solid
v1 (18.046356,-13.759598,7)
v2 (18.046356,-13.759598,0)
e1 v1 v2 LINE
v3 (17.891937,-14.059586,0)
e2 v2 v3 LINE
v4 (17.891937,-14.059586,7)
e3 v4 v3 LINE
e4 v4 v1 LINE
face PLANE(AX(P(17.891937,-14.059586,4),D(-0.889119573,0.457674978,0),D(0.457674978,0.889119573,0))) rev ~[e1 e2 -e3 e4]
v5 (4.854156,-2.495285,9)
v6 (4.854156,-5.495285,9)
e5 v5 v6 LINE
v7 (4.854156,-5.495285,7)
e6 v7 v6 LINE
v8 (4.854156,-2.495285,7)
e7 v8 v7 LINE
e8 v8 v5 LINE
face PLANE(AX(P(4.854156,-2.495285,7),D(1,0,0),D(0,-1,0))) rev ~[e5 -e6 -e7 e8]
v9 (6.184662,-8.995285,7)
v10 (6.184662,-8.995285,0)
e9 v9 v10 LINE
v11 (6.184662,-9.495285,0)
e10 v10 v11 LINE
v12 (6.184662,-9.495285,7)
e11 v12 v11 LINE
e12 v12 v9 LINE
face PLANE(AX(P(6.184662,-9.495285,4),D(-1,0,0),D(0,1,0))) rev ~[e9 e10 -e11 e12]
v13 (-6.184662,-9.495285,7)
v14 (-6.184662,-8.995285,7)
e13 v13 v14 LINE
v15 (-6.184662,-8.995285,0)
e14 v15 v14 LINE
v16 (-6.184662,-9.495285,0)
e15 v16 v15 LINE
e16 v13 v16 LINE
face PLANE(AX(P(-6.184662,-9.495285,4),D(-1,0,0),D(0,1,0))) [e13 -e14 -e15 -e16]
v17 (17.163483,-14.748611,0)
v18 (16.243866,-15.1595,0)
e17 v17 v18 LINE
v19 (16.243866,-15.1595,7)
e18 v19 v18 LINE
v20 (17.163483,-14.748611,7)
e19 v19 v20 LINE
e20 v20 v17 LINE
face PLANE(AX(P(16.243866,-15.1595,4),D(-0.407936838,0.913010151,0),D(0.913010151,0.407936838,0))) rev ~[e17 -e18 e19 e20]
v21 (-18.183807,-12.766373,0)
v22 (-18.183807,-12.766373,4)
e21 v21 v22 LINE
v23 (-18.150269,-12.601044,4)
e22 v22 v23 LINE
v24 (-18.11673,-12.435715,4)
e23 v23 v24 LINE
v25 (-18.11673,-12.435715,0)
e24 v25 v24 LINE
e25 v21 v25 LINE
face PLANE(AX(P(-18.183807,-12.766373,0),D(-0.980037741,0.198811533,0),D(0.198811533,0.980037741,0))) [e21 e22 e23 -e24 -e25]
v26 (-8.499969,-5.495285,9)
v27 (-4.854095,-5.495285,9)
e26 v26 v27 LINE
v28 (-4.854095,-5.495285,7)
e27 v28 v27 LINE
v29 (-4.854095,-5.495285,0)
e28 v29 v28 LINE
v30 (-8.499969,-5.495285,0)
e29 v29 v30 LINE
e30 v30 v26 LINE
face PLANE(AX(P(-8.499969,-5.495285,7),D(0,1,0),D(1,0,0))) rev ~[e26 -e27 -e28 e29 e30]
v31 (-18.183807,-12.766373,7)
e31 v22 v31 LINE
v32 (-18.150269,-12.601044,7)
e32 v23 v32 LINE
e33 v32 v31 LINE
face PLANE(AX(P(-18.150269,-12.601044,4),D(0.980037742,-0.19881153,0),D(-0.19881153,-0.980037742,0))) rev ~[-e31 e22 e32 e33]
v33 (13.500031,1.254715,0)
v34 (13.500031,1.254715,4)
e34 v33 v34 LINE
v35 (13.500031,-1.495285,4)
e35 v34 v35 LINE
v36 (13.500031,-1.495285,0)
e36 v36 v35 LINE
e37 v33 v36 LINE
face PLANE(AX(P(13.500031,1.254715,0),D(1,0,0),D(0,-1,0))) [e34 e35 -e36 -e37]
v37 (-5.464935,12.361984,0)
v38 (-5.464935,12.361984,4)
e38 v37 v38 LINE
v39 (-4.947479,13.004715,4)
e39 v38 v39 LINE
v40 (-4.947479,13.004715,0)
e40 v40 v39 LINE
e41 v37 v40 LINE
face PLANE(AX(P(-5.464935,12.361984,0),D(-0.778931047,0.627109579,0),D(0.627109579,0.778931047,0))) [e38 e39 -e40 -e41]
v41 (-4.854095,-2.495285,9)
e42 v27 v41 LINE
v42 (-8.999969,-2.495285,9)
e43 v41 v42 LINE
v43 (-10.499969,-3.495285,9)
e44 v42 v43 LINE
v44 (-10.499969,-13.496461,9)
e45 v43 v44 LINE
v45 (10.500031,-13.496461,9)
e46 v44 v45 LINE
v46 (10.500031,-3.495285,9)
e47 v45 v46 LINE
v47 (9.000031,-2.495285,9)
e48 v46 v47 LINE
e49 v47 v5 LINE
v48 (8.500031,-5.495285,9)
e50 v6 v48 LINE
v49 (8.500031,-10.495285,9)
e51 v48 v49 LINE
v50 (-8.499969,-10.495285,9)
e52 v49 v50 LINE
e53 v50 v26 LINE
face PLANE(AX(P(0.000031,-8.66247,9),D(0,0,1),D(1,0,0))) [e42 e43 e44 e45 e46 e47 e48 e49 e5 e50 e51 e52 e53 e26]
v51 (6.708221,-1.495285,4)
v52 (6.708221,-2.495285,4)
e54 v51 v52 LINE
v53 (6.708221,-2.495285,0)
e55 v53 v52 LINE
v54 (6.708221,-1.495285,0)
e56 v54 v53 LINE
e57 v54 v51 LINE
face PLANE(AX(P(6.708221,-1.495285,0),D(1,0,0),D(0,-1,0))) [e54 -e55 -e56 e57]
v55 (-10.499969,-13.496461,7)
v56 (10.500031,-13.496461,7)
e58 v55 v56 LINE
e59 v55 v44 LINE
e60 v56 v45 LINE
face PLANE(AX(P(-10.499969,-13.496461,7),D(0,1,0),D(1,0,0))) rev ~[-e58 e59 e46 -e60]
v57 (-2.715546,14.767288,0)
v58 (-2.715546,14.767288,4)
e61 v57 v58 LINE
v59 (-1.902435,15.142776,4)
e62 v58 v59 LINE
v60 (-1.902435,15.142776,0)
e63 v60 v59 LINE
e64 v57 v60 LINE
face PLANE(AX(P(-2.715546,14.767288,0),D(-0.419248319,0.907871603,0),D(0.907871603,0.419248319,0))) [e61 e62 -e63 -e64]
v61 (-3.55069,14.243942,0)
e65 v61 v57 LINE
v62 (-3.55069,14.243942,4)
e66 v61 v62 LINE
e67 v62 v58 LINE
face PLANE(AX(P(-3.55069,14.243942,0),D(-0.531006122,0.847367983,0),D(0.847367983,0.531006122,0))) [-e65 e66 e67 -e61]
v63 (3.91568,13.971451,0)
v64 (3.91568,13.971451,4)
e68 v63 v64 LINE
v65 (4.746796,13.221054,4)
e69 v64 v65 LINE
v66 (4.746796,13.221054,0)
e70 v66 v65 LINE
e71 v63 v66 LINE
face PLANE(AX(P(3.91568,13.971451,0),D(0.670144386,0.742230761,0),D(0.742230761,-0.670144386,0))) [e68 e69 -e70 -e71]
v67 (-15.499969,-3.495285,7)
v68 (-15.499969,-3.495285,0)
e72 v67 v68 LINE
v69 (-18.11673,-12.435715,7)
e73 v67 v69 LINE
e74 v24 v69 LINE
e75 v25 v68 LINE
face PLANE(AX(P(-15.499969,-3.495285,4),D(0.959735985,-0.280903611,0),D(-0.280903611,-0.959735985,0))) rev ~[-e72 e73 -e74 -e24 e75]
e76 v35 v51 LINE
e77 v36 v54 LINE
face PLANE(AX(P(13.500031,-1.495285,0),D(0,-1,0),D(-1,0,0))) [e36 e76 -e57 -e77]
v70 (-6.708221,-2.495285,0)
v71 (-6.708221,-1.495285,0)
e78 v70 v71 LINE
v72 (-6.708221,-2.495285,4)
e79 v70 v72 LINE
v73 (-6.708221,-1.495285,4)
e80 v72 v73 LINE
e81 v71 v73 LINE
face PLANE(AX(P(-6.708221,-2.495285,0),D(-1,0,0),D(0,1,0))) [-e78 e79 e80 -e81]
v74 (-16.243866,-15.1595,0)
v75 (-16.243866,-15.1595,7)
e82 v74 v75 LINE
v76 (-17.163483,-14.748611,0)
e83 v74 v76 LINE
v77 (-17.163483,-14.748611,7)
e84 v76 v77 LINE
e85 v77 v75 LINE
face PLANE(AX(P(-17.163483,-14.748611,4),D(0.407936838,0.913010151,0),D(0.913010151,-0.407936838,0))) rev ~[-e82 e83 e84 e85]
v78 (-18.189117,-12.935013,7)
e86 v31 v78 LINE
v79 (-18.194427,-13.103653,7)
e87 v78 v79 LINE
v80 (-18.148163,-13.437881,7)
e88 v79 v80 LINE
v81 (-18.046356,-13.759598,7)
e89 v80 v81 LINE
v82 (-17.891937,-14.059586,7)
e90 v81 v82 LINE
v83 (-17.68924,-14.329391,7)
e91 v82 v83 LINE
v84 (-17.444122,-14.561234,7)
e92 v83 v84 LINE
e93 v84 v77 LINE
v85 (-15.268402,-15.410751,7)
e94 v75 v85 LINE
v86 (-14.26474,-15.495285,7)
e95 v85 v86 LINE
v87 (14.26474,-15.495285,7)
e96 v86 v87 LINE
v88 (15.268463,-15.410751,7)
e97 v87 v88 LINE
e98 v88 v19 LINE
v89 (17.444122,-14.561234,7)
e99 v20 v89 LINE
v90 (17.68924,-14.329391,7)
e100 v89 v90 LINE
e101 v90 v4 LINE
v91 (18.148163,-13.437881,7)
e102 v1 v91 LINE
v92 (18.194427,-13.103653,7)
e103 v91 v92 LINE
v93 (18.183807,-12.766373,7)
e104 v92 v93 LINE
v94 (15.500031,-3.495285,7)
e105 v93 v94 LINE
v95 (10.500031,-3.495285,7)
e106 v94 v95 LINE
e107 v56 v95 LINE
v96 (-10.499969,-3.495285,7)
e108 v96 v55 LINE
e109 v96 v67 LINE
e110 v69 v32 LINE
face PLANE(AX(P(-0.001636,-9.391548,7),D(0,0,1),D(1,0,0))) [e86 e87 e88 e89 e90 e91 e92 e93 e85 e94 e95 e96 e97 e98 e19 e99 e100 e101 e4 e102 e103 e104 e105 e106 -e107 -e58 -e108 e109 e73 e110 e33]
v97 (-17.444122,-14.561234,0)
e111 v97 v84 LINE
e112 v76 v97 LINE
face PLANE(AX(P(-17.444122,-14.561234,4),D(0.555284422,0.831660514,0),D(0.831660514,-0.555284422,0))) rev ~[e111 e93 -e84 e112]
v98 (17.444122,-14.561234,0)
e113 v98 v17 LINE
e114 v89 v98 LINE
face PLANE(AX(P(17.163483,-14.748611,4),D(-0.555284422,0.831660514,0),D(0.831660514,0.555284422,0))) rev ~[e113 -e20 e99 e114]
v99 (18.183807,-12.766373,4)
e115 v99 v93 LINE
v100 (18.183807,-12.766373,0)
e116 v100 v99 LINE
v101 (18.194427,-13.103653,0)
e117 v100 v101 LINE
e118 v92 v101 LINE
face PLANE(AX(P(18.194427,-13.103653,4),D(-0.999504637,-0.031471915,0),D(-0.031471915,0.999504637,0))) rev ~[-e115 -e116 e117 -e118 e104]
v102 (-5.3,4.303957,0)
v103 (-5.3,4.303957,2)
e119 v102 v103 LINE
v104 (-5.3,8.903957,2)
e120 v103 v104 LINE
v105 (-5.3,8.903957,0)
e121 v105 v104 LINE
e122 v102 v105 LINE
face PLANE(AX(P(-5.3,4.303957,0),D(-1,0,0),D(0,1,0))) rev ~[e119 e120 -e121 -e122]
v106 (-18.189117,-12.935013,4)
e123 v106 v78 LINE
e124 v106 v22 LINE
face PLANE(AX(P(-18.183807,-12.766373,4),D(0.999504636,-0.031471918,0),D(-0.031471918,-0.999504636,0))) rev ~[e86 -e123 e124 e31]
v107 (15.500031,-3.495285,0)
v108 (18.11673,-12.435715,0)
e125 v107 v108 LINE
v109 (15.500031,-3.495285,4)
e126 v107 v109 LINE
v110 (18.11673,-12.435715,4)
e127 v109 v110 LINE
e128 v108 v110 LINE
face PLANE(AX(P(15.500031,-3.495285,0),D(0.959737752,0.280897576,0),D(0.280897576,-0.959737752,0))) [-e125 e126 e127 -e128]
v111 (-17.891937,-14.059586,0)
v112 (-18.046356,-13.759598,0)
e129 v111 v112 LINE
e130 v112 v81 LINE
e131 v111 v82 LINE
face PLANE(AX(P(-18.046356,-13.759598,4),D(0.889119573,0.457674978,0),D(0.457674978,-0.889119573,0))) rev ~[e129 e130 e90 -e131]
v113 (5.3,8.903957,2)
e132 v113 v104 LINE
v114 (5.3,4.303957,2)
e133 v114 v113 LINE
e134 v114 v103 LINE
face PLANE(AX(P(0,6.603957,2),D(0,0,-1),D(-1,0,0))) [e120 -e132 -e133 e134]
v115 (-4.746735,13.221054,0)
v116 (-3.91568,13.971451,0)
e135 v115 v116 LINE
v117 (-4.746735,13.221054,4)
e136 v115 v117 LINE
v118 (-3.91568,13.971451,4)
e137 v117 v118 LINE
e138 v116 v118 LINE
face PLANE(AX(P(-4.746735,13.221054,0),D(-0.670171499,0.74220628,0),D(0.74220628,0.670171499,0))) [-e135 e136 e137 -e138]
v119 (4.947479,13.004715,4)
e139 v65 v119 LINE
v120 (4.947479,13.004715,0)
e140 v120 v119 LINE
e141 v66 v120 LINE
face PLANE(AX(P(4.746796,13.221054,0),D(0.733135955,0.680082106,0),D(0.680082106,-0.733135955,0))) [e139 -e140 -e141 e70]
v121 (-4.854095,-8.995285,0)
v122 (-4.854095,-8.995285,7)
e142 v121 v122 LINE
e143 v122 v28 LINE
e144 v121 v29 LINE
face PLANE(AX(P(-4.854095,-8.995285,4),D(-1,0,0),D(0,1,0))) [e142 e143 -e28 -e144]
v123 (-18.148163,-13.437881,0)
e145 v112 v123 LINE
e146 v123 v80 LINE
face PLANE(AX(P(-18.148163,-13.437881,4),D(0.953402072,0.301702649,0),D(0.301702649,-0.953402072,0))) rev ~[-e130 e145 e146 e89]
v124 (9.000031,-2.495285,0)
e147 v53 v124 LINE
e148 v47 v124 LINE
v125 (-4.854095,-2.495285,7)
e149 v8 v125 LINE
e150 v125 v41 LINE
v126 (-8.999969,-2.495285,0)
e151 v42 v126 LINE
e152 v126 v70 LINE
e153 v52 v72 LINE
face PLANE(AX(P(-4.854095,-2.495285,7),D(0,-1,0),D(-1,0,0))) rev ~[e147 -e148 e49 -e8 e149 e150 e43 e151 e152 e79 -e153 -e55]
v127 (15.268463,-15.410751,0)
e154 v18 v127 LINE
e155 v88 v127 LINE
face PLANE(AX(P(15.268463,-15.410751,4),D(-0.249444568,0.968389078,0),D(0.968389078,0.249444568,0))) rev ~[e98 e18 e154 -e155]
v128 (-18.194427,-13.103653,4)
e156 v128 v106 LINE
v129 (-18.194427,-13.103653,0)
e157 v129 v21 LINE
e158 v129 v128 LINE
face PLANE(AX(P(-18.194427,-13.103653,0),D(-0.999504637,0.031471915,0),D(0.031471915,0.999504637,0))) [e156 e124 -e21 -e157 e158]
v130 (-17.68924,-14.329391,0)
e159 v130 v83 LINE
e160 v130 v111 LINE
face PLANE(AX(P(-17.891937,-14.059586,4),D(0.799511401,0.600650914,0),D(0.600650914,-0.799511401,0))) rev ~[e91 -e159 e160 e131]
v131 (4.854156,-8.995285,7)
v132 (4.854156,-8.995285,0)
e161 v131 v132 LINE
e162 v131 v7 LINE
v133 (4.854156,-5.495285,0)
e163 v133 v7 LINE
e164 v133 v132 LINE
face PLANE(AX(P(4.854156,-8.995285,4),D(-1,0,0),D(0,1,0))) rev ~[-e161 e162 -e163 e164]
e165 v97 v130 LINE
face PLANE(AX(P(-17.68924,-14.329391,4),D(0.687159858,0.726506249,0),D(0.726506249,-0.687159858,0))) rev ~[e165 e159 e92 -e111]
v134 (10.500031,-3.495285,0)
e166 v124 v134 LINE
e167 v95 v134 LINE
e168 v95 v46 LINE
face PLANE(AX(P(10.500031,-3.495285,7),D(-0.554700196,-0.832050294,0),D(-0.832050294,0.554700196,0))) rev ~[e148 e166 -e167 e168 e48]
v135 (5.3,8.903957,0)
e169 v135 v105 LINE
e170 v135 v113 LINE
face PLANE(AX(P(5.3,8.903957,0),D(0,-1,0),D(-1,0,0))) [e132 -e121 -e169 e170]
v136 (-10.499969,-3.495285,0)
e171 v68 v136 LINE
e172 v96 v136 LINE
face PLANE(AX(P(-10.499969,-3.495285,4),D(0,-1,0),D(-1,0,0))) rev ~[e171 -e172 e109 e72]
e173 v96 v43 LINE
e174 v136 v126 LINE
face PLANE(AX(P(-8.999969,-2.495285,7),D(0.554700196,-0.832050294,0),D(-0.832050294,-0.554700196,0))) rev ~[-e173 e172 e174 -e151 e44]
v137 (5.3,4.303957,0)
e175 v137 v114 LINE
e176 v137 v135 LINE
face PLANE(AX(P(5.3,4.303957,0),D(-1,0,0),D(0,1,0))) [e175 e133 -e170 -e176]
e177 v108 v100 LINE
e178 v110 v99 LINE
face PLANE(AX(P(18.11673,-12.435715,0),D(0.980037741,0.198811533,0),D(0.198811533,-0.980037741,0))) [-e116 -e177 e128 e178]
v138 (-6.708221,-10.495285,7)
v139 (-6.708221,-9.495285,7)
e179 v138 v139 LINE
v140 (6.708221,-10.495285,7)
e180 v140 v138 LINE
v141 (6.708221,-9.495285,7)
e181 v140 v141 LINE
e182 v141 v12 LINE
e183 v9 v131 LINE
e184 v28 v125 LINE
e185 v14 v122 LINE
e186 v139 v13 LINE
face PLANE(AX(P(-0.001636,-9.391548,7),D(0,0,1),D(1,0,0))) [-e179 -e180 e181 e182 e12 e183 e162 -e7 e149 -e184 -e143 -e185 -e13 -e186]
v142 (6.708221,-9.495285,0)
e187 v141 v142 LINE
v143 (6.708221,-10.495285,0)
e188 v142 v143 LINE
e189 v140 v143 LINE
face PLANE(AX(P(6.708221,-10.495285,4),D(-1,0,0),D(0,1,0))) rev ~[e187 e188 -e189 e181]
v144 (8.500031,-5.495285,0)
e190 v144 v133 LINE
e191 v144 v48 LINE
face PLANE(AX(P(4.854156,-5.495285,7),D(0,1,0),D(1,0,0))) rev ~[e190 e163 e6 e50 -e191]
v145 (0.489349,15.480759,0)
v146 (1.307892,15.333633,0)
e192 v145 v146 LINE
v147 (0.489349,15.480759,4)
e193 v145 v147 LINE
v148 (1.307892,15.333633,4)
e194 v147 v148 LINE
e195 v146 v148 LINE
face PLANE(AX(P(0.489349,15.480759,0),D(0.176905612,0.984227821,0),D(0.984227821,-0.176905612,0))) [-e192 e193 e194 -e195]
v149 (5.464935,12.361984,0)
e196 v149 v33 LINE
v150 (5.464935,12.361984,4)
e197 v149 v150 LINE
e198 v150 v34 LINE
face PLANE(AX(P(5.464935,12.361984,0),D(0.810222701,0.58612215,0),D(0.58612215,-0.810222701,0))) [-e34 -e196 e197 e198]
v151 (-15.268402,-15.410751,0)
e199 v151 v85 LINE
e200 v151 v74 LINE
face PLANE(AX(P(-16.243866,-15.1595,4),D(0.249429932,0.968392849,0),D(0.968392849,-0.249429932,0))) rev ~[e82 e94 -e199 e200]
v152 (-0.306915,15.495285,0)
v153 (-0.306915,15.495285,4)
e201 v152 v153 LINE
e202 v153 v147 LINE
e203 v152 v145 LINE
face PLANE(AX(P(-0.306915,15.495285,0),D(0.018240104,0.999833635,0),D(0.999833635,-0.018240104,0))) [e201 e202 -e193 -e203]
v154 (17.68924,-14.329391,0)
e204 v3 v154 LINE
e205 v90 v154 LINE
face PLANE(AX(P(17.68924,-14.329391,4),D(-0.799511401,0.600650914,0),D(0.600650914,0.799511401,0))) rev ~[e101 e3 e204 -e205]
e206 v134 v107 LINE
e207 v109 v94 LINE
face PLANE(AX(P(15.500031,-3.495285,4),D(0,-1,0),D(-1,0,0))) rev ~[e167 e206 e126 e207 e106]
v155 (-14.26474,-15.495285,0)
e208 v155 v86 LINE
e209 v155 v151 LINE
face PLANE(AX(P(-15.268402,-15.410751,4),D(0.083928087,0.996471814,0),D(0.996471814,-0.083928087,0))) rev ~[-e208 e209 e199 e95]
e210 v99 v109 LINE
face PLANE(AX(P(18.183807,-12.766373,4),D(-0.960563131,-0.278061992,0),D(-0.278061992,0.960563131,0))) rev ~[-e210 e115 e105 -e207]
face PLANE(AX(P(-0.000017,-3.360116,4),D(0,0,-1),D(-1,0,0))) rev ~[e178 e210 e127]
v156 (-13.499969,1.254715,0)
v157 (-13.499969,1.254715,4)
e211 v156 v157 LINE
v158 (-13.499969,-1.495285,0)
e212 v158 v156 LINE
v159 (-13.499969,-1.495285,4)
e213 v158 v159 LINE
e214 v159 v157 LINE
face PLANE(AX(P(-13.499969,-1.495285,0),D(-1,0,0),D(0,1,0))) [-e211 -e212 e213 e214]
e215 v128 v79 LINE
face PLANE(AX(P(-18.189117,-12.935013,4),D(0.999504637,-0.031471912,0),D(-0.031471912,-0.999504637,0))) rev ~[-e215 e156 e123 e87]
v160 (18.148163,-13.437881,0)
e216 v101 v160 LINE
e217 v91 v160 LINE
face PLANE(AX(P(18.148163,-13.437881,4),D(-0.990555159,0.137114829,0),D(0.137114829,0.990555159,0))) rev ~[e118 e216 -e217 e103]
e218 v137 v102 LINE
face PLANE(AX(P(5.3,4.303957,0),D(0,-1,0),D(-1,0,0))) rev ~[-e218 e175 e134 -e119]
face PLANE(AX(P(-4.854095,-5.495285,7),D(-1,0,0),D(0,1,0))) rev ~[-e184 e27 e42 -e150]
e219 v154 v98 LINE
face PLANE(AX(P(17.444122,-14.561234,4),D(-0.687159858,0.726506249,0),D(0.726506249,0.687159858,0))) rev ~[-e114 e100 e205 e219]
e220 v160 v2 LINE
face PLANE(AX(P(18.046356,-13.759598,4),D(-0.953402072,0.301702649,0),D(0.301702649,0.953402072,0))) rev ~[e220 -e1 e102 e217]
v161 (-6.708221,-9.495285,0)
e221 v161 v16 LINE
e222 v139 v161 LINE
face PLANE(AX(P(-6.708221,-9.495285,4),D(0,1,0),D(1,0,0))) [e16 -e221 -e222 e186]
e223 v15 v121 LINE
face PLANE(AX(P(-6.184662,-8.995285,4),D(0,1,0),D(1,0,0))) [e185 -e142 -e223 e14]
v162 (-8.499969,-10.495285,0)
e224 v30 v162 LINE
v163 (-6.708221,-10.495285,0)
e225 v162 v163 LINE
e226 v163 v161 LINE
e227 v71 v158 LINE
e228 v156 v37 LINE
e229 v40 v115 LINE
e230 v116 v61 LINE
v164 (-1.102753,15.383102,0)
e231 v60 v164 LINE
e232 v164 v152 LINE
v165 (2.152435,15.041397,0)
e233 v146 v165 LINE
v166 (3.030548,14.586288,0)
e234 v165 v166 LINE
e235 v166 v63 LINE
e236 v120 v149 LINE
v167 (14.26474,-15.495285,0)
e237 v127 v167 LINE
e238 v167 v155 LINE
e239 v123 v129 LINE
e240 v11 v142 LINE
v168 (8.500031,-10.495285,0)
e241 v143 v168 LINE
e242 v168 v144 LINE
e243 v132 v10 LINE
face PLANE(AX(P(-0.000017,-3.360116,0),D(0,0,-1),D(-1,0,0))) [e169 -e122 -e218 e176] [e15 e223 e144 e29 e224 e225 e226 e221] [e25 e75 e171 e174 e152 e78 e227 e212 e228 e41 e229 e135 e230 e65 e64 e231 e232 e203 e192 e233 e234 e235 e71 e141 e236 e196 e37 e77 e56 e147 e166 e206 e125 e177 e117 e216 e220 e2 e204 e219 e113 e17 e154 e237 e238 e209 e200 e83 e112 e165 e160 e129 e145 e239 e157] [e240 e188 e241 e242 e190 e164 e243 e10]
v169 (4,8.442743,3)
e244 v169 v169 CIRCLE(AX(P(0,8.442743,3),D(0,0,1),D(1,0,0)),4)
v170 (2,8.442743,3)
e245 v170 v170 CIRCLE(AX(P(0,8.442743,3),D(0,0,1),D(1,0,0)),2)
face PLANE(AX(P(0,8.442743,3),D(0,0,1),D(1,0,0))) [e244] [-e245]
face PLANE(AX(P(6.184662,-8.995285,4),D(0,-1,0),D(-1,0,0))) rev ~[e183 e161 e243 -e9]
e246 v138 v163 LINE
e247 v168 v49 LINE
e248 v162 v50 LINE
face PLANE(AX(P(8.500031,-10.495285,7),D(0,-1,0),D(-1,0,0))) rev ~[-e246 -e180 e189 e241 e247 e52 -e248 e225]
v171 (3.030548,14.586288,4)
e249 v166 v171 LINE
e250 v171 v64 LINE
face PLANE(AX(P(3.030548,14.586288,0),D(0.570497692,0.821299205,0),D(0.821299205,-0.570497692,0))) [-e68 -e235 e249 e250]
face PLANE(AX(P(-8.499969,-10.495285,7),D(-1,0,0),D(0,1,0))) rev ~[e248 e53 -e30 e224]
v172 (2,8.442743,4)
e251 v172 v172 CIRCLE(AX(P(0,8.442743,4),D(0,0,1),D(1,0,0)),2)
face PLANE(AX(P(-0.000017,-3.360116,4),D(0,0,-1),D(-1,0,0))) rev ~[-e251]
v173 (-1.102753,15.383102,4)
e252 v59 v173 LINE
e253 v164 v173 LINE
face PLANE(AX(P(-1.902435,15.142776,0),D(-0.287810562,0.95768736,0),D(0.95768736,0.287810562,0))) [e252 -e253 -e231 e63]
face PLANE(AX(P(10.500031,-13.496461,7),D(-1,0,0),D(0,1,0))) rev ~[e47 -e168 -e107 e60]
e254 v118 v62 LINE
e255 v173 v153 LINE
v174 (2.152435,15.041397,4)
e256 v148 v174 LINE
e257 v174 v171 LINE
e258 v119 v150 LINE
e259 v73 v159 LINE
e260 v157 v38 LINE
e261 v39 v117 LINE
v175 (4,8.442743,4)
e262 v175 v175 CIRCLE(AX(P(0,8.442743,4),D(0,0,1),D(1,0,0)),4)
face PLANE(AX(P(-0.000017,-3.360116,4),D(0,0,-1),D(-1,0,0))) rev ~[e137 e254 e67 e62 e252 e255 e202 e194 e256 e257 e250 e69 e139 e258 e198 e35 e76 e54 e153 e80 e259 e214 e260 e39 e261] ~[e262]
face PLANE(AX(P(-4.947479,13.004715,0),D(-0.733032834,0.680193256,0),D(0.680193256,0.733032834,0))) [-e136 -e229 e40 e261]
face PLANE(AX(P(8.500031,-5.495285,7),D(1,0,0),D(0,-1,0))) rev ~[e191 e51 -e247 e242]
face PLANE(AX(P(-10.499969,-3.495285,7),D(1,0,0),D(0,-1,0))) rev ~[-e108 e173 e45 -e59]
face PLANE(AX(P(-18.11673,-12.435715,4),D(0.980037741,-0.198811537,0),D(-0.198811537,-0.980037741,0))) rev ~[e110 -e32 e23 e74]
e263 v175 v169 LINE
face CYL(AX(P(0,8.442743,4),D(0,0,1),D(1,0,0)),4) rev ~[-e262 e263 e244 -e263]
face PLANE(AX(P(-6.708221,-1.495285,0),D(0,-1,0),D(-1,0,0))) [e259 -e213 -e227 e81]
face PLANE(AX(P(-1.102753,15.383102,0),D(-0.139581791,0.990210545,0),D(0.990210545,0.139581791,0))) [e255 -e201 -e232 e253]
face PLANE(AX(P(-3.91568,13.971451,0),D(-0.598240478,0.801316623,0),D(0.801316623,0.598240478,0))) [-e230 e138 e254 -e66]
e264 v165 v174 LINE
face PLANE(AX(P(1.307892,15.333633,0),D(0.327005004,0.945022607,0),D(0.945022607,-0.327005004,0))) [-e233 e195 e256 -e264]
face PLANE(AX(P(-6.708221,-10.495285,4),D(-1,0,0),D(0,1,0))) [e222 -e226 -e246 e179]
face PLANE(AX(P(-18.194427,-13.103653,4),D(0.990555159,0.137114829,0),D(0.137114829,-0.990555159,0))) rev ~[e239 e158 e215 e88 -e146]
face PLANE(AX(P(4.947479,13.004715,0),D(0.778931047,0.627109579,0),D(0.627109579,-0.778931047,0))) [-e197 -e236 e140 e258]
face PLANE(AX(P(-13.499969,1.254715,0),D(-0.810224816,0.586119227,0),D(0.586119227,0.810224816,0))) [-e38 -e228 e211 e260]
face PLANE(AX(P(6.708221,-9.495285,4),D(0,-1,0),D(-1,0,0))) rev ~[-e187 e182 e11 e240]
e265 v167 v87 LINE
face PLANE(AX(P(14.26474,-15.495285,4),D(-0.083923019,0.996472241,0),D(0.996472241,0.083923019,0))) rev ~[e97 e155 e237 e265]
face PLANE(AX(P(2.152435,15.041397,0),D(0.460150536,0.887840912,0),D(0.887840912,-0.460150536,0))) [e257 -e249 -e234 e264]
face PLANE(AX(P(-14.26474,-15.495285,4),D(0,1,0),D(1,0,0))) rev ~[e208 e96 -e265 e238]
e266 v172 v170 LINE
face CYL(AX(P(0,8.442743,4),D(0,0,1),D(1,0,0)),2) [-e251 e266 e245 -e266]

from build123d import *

# Parameters (mm, degrees)
BOSS_EXTRUDE1_DEPTH = 4
SKETCH4_R           = 4
SKETCH4_R_2         = 2
CUT_EXTRUDE1_DEPTH  = 1
BOSS_EXTRUDE2_DEPTH = 3
BOSS_EXTRUDE3_DEPTH = 2
SKETCH9_W           = 10.6
SKETCH9_H           = 4.6
CUT_EXTRUDE2_DEPTH  = 2


with BuildPart() as part:
    # Sketch1 → Boss-Extrude1 (new body)
    with BuildSketch(Plane.XY):
        Polygon((5.464935303, 12.361984253), (13.500030518, 1.254714966), (13.500030518, -1.495285034), (6.708221436, -1.495285034), (6.708221436, -2.495285034), (9.000030518, -2.495285034), (10.500030518, -3.495285034), (15.500030518, -3.495285034), (18.116729736, -12.435714722), (18.183807373, -12.766372681), (18.19442749, -13.103652954), (18.148162842, -13.43788147), (18.046356201, -13.759597778), (17.891937256, -14.059585571), (17.689239502, -14.329391479), (17.444122314, -14.561233521), (17.163482666, -14.74861145), (16.243865967, -15.159500122), (15.268463135, -15.410751343), (14.26473999, -15.495285034), (-14.26473999, -15.495285034), (-15.2684021, -15.410751343), (-16.243865967, -15.159500122), (-17.163482666, -14.74861145), (-17.444122314, -14.561233521), (-17.689239502, -14.329391479), (-17.891937256, -14.059585571), (-18.046356201, -13.759597778), (-18.148162842, -13.43788147), (-18.19442749, -13.103652954), (-18.183807373, -12.766372681), (-18.116729736, -12.435714722), (-15.499969482, -3.495285034), (-10.499969482, -3.495285034), (-8.999969482, -2.495285034), (-6.708221436, -2.495285034), (-6.708221436, -1.495285034), (-13.499969482, -1.495285034), (-13.499969482, 1.254714966), (-5.464935303, 12.361984253), (-4.947479248, 13.004714966), (-4.746734619, 13.221054077), (-3.915679932, 13.971450806), (-3.550689697, 14.243942261), (-2.715545654, 14.767288208), (-1.902435303, 15.142776489), (-1.102752686, 15.383102417), (-0.306915283, 15.495285034), (0.489349365, 15.480758667), (1.307891846, 15.333633423), (2.152435303, 15.041397095), (3.030548096, 14.586288452), (3.915679932, 13.971450806), (4.746795654, 13.221054077), (4.947479248, 13.004714966), align=None)
        Polygon((6.708221436, -10.495285034), (8.500030518, -10.495285034), (8.500030518, -5.495285034), (4.854156494, -5.495285034), (4.854156494, -8.995285034), (6.184661865, -8.995285034), (6.184661865, -9.495285034), (6.708221436, -9.495285034), align=None, mode=Mode.SUBTRACT)
        Polygon((-4.854095459, -5.495285034), (-8.499969482, -5.495285034), (-8.499969482, -10.495285034), (-6.708221436, -10.495285034), (-6.708221436, -9.495285034), (-6.184661865, -9.495285034), (-6.184661865, -8.995285034), (-4.854095459, -8.995285034), align=None, mode=Mode.SUBTRACT)
    extrude(amount=BOSS_EXTRUDE1_DEPTH)

    # Sketch4 → Cut-Extrude1 (cut)
    with BuildSketch(Plane.XY.offset(4)):
        with Locations((0, 8.442743212)):
            Circle(SKETCH4_R)
        with Locations((0, 8.442743212)):
            Circle(SKETCH4_R_2, mode=Mode.SUBTRACT)
    extrude(amount=-CUT_EXTRUDE1_DEPTH, mode=Mode.SUBTRACT)

    # Sketch7 → Boss-Extrude2 (add)
    with BuildSketch(Plane.XY.offset(4)):
        Polygon((-15.499969482, -3.495285034), (-18.116729736, -12.435714722), (-18.150268555, -12.601043701), (-18.183807373, -12.766372681), (-18.189117432, -12.935012817), (-18.19442749, -13.103652954), (-18.171295166, -13.270767212), (-18.148162842, -13.43788147), (-18.046356201, -13.759597778), (-17.891937256, -14.059585571), (-17.689239502, -14.329391479), (-17.444122314, -14.561233521), (-17.163482666, -14.74861145), (-16.243865967, -15.159500122), (-15.2684021, -15.410751343), (-14.26473999, -15.495285034), (14.26473999, -15.495285034), (15.268463135, -15.410751343), (16.243865967, -15.159500122), (17.163482666, -14.74861145), (17.444122314, -14.561233521), (17.689239502, -14.329391479), (17.891937256, -14.059585571), (18.046356201, -13.759597778), (18.148162842, -13.43788147), (18.19442749, -13.103652954), (18.183807373, -12.766372681), (15.500030518, -3.495285034), (10.500030518, -3.495285034), (9.000030518, -2.495285034), (6.708221436, -2.495285034), (-6.708221436, -2.495285034), (-8.999969482, -2.495285034), (-10.499969482, -3.495285034), align=None)
        Polygon((-8.499969482, -5.495285034), (-8.499969482, -10.495285034), (-6.708221436, -10.495285034), (-6.708221436, -9.495285034), (-6.184661865, -9.495285034), (-6.184661865, -8.995285034), (-4.854095459, -8.995285034), (-4.854095459, -5.495285034), align=None, mode=Mode.SUBTRACT)
        Polygon((4.854156494, -5.495285034), (8.500030518, -5.495285034), (8.500030518, -10.495285034), (6.708221436, -10.495285034), (6.708221436, -9.495285034), (6.184661865, -9.495285034), (6.184661865, -8.995285034), (4.854156494, -8.995285034), align=None, mode=Mode.SUBTRACT)
    extrude(amount=BOSS_EXTRUDE2_DEPTH)

    # Sketch8 → Boss-Extrude3 (add)
    with BuildSketch(Plane.XY.offset(7)):
        Polygon((-6.708221436, -2.495285034), (-8.999969482, -2.495285034), (-10.499969482, -3.495285034), (-10.499969482, -13.496460595), (10.500030518, -13.496460595), (10.500030518, -3.495285034), (9.000030518, -2.495285034), (6.708221436, -2.495285034), (4.854156494, -2.495285034), (4.854156494, -5.495285034), (8.500030518, -5.495285034), (8.500030518, -10.495285034), (6.708221436, -10.495285034), (-6.708221436, -10.495285034), (-8.499969482, -10.495285034), (-8.499969482, -5.495285034), (-4.854095459, -5.495285034), (-4.854095459, -2.495285034), align=None)
    extrude(amount=BOSS_EXTRUDE3_DEPTH)

    # Sketch9 → Cut-Extrude2 (cut)
    with BuildSketch(Plane(origin=(0, 0, 0), x_dir=(-1, 0, 0), z_dir=(0, 0, -1))):
        with Locations((0, 6.603957423)):
            Rectangle(SKETCH9_W, SKETCH9_H)
    extrude(amount=-CUT_EXTRUDE2_DEPTH, mode=Mode.SUBTRACT)


solid = part.part
